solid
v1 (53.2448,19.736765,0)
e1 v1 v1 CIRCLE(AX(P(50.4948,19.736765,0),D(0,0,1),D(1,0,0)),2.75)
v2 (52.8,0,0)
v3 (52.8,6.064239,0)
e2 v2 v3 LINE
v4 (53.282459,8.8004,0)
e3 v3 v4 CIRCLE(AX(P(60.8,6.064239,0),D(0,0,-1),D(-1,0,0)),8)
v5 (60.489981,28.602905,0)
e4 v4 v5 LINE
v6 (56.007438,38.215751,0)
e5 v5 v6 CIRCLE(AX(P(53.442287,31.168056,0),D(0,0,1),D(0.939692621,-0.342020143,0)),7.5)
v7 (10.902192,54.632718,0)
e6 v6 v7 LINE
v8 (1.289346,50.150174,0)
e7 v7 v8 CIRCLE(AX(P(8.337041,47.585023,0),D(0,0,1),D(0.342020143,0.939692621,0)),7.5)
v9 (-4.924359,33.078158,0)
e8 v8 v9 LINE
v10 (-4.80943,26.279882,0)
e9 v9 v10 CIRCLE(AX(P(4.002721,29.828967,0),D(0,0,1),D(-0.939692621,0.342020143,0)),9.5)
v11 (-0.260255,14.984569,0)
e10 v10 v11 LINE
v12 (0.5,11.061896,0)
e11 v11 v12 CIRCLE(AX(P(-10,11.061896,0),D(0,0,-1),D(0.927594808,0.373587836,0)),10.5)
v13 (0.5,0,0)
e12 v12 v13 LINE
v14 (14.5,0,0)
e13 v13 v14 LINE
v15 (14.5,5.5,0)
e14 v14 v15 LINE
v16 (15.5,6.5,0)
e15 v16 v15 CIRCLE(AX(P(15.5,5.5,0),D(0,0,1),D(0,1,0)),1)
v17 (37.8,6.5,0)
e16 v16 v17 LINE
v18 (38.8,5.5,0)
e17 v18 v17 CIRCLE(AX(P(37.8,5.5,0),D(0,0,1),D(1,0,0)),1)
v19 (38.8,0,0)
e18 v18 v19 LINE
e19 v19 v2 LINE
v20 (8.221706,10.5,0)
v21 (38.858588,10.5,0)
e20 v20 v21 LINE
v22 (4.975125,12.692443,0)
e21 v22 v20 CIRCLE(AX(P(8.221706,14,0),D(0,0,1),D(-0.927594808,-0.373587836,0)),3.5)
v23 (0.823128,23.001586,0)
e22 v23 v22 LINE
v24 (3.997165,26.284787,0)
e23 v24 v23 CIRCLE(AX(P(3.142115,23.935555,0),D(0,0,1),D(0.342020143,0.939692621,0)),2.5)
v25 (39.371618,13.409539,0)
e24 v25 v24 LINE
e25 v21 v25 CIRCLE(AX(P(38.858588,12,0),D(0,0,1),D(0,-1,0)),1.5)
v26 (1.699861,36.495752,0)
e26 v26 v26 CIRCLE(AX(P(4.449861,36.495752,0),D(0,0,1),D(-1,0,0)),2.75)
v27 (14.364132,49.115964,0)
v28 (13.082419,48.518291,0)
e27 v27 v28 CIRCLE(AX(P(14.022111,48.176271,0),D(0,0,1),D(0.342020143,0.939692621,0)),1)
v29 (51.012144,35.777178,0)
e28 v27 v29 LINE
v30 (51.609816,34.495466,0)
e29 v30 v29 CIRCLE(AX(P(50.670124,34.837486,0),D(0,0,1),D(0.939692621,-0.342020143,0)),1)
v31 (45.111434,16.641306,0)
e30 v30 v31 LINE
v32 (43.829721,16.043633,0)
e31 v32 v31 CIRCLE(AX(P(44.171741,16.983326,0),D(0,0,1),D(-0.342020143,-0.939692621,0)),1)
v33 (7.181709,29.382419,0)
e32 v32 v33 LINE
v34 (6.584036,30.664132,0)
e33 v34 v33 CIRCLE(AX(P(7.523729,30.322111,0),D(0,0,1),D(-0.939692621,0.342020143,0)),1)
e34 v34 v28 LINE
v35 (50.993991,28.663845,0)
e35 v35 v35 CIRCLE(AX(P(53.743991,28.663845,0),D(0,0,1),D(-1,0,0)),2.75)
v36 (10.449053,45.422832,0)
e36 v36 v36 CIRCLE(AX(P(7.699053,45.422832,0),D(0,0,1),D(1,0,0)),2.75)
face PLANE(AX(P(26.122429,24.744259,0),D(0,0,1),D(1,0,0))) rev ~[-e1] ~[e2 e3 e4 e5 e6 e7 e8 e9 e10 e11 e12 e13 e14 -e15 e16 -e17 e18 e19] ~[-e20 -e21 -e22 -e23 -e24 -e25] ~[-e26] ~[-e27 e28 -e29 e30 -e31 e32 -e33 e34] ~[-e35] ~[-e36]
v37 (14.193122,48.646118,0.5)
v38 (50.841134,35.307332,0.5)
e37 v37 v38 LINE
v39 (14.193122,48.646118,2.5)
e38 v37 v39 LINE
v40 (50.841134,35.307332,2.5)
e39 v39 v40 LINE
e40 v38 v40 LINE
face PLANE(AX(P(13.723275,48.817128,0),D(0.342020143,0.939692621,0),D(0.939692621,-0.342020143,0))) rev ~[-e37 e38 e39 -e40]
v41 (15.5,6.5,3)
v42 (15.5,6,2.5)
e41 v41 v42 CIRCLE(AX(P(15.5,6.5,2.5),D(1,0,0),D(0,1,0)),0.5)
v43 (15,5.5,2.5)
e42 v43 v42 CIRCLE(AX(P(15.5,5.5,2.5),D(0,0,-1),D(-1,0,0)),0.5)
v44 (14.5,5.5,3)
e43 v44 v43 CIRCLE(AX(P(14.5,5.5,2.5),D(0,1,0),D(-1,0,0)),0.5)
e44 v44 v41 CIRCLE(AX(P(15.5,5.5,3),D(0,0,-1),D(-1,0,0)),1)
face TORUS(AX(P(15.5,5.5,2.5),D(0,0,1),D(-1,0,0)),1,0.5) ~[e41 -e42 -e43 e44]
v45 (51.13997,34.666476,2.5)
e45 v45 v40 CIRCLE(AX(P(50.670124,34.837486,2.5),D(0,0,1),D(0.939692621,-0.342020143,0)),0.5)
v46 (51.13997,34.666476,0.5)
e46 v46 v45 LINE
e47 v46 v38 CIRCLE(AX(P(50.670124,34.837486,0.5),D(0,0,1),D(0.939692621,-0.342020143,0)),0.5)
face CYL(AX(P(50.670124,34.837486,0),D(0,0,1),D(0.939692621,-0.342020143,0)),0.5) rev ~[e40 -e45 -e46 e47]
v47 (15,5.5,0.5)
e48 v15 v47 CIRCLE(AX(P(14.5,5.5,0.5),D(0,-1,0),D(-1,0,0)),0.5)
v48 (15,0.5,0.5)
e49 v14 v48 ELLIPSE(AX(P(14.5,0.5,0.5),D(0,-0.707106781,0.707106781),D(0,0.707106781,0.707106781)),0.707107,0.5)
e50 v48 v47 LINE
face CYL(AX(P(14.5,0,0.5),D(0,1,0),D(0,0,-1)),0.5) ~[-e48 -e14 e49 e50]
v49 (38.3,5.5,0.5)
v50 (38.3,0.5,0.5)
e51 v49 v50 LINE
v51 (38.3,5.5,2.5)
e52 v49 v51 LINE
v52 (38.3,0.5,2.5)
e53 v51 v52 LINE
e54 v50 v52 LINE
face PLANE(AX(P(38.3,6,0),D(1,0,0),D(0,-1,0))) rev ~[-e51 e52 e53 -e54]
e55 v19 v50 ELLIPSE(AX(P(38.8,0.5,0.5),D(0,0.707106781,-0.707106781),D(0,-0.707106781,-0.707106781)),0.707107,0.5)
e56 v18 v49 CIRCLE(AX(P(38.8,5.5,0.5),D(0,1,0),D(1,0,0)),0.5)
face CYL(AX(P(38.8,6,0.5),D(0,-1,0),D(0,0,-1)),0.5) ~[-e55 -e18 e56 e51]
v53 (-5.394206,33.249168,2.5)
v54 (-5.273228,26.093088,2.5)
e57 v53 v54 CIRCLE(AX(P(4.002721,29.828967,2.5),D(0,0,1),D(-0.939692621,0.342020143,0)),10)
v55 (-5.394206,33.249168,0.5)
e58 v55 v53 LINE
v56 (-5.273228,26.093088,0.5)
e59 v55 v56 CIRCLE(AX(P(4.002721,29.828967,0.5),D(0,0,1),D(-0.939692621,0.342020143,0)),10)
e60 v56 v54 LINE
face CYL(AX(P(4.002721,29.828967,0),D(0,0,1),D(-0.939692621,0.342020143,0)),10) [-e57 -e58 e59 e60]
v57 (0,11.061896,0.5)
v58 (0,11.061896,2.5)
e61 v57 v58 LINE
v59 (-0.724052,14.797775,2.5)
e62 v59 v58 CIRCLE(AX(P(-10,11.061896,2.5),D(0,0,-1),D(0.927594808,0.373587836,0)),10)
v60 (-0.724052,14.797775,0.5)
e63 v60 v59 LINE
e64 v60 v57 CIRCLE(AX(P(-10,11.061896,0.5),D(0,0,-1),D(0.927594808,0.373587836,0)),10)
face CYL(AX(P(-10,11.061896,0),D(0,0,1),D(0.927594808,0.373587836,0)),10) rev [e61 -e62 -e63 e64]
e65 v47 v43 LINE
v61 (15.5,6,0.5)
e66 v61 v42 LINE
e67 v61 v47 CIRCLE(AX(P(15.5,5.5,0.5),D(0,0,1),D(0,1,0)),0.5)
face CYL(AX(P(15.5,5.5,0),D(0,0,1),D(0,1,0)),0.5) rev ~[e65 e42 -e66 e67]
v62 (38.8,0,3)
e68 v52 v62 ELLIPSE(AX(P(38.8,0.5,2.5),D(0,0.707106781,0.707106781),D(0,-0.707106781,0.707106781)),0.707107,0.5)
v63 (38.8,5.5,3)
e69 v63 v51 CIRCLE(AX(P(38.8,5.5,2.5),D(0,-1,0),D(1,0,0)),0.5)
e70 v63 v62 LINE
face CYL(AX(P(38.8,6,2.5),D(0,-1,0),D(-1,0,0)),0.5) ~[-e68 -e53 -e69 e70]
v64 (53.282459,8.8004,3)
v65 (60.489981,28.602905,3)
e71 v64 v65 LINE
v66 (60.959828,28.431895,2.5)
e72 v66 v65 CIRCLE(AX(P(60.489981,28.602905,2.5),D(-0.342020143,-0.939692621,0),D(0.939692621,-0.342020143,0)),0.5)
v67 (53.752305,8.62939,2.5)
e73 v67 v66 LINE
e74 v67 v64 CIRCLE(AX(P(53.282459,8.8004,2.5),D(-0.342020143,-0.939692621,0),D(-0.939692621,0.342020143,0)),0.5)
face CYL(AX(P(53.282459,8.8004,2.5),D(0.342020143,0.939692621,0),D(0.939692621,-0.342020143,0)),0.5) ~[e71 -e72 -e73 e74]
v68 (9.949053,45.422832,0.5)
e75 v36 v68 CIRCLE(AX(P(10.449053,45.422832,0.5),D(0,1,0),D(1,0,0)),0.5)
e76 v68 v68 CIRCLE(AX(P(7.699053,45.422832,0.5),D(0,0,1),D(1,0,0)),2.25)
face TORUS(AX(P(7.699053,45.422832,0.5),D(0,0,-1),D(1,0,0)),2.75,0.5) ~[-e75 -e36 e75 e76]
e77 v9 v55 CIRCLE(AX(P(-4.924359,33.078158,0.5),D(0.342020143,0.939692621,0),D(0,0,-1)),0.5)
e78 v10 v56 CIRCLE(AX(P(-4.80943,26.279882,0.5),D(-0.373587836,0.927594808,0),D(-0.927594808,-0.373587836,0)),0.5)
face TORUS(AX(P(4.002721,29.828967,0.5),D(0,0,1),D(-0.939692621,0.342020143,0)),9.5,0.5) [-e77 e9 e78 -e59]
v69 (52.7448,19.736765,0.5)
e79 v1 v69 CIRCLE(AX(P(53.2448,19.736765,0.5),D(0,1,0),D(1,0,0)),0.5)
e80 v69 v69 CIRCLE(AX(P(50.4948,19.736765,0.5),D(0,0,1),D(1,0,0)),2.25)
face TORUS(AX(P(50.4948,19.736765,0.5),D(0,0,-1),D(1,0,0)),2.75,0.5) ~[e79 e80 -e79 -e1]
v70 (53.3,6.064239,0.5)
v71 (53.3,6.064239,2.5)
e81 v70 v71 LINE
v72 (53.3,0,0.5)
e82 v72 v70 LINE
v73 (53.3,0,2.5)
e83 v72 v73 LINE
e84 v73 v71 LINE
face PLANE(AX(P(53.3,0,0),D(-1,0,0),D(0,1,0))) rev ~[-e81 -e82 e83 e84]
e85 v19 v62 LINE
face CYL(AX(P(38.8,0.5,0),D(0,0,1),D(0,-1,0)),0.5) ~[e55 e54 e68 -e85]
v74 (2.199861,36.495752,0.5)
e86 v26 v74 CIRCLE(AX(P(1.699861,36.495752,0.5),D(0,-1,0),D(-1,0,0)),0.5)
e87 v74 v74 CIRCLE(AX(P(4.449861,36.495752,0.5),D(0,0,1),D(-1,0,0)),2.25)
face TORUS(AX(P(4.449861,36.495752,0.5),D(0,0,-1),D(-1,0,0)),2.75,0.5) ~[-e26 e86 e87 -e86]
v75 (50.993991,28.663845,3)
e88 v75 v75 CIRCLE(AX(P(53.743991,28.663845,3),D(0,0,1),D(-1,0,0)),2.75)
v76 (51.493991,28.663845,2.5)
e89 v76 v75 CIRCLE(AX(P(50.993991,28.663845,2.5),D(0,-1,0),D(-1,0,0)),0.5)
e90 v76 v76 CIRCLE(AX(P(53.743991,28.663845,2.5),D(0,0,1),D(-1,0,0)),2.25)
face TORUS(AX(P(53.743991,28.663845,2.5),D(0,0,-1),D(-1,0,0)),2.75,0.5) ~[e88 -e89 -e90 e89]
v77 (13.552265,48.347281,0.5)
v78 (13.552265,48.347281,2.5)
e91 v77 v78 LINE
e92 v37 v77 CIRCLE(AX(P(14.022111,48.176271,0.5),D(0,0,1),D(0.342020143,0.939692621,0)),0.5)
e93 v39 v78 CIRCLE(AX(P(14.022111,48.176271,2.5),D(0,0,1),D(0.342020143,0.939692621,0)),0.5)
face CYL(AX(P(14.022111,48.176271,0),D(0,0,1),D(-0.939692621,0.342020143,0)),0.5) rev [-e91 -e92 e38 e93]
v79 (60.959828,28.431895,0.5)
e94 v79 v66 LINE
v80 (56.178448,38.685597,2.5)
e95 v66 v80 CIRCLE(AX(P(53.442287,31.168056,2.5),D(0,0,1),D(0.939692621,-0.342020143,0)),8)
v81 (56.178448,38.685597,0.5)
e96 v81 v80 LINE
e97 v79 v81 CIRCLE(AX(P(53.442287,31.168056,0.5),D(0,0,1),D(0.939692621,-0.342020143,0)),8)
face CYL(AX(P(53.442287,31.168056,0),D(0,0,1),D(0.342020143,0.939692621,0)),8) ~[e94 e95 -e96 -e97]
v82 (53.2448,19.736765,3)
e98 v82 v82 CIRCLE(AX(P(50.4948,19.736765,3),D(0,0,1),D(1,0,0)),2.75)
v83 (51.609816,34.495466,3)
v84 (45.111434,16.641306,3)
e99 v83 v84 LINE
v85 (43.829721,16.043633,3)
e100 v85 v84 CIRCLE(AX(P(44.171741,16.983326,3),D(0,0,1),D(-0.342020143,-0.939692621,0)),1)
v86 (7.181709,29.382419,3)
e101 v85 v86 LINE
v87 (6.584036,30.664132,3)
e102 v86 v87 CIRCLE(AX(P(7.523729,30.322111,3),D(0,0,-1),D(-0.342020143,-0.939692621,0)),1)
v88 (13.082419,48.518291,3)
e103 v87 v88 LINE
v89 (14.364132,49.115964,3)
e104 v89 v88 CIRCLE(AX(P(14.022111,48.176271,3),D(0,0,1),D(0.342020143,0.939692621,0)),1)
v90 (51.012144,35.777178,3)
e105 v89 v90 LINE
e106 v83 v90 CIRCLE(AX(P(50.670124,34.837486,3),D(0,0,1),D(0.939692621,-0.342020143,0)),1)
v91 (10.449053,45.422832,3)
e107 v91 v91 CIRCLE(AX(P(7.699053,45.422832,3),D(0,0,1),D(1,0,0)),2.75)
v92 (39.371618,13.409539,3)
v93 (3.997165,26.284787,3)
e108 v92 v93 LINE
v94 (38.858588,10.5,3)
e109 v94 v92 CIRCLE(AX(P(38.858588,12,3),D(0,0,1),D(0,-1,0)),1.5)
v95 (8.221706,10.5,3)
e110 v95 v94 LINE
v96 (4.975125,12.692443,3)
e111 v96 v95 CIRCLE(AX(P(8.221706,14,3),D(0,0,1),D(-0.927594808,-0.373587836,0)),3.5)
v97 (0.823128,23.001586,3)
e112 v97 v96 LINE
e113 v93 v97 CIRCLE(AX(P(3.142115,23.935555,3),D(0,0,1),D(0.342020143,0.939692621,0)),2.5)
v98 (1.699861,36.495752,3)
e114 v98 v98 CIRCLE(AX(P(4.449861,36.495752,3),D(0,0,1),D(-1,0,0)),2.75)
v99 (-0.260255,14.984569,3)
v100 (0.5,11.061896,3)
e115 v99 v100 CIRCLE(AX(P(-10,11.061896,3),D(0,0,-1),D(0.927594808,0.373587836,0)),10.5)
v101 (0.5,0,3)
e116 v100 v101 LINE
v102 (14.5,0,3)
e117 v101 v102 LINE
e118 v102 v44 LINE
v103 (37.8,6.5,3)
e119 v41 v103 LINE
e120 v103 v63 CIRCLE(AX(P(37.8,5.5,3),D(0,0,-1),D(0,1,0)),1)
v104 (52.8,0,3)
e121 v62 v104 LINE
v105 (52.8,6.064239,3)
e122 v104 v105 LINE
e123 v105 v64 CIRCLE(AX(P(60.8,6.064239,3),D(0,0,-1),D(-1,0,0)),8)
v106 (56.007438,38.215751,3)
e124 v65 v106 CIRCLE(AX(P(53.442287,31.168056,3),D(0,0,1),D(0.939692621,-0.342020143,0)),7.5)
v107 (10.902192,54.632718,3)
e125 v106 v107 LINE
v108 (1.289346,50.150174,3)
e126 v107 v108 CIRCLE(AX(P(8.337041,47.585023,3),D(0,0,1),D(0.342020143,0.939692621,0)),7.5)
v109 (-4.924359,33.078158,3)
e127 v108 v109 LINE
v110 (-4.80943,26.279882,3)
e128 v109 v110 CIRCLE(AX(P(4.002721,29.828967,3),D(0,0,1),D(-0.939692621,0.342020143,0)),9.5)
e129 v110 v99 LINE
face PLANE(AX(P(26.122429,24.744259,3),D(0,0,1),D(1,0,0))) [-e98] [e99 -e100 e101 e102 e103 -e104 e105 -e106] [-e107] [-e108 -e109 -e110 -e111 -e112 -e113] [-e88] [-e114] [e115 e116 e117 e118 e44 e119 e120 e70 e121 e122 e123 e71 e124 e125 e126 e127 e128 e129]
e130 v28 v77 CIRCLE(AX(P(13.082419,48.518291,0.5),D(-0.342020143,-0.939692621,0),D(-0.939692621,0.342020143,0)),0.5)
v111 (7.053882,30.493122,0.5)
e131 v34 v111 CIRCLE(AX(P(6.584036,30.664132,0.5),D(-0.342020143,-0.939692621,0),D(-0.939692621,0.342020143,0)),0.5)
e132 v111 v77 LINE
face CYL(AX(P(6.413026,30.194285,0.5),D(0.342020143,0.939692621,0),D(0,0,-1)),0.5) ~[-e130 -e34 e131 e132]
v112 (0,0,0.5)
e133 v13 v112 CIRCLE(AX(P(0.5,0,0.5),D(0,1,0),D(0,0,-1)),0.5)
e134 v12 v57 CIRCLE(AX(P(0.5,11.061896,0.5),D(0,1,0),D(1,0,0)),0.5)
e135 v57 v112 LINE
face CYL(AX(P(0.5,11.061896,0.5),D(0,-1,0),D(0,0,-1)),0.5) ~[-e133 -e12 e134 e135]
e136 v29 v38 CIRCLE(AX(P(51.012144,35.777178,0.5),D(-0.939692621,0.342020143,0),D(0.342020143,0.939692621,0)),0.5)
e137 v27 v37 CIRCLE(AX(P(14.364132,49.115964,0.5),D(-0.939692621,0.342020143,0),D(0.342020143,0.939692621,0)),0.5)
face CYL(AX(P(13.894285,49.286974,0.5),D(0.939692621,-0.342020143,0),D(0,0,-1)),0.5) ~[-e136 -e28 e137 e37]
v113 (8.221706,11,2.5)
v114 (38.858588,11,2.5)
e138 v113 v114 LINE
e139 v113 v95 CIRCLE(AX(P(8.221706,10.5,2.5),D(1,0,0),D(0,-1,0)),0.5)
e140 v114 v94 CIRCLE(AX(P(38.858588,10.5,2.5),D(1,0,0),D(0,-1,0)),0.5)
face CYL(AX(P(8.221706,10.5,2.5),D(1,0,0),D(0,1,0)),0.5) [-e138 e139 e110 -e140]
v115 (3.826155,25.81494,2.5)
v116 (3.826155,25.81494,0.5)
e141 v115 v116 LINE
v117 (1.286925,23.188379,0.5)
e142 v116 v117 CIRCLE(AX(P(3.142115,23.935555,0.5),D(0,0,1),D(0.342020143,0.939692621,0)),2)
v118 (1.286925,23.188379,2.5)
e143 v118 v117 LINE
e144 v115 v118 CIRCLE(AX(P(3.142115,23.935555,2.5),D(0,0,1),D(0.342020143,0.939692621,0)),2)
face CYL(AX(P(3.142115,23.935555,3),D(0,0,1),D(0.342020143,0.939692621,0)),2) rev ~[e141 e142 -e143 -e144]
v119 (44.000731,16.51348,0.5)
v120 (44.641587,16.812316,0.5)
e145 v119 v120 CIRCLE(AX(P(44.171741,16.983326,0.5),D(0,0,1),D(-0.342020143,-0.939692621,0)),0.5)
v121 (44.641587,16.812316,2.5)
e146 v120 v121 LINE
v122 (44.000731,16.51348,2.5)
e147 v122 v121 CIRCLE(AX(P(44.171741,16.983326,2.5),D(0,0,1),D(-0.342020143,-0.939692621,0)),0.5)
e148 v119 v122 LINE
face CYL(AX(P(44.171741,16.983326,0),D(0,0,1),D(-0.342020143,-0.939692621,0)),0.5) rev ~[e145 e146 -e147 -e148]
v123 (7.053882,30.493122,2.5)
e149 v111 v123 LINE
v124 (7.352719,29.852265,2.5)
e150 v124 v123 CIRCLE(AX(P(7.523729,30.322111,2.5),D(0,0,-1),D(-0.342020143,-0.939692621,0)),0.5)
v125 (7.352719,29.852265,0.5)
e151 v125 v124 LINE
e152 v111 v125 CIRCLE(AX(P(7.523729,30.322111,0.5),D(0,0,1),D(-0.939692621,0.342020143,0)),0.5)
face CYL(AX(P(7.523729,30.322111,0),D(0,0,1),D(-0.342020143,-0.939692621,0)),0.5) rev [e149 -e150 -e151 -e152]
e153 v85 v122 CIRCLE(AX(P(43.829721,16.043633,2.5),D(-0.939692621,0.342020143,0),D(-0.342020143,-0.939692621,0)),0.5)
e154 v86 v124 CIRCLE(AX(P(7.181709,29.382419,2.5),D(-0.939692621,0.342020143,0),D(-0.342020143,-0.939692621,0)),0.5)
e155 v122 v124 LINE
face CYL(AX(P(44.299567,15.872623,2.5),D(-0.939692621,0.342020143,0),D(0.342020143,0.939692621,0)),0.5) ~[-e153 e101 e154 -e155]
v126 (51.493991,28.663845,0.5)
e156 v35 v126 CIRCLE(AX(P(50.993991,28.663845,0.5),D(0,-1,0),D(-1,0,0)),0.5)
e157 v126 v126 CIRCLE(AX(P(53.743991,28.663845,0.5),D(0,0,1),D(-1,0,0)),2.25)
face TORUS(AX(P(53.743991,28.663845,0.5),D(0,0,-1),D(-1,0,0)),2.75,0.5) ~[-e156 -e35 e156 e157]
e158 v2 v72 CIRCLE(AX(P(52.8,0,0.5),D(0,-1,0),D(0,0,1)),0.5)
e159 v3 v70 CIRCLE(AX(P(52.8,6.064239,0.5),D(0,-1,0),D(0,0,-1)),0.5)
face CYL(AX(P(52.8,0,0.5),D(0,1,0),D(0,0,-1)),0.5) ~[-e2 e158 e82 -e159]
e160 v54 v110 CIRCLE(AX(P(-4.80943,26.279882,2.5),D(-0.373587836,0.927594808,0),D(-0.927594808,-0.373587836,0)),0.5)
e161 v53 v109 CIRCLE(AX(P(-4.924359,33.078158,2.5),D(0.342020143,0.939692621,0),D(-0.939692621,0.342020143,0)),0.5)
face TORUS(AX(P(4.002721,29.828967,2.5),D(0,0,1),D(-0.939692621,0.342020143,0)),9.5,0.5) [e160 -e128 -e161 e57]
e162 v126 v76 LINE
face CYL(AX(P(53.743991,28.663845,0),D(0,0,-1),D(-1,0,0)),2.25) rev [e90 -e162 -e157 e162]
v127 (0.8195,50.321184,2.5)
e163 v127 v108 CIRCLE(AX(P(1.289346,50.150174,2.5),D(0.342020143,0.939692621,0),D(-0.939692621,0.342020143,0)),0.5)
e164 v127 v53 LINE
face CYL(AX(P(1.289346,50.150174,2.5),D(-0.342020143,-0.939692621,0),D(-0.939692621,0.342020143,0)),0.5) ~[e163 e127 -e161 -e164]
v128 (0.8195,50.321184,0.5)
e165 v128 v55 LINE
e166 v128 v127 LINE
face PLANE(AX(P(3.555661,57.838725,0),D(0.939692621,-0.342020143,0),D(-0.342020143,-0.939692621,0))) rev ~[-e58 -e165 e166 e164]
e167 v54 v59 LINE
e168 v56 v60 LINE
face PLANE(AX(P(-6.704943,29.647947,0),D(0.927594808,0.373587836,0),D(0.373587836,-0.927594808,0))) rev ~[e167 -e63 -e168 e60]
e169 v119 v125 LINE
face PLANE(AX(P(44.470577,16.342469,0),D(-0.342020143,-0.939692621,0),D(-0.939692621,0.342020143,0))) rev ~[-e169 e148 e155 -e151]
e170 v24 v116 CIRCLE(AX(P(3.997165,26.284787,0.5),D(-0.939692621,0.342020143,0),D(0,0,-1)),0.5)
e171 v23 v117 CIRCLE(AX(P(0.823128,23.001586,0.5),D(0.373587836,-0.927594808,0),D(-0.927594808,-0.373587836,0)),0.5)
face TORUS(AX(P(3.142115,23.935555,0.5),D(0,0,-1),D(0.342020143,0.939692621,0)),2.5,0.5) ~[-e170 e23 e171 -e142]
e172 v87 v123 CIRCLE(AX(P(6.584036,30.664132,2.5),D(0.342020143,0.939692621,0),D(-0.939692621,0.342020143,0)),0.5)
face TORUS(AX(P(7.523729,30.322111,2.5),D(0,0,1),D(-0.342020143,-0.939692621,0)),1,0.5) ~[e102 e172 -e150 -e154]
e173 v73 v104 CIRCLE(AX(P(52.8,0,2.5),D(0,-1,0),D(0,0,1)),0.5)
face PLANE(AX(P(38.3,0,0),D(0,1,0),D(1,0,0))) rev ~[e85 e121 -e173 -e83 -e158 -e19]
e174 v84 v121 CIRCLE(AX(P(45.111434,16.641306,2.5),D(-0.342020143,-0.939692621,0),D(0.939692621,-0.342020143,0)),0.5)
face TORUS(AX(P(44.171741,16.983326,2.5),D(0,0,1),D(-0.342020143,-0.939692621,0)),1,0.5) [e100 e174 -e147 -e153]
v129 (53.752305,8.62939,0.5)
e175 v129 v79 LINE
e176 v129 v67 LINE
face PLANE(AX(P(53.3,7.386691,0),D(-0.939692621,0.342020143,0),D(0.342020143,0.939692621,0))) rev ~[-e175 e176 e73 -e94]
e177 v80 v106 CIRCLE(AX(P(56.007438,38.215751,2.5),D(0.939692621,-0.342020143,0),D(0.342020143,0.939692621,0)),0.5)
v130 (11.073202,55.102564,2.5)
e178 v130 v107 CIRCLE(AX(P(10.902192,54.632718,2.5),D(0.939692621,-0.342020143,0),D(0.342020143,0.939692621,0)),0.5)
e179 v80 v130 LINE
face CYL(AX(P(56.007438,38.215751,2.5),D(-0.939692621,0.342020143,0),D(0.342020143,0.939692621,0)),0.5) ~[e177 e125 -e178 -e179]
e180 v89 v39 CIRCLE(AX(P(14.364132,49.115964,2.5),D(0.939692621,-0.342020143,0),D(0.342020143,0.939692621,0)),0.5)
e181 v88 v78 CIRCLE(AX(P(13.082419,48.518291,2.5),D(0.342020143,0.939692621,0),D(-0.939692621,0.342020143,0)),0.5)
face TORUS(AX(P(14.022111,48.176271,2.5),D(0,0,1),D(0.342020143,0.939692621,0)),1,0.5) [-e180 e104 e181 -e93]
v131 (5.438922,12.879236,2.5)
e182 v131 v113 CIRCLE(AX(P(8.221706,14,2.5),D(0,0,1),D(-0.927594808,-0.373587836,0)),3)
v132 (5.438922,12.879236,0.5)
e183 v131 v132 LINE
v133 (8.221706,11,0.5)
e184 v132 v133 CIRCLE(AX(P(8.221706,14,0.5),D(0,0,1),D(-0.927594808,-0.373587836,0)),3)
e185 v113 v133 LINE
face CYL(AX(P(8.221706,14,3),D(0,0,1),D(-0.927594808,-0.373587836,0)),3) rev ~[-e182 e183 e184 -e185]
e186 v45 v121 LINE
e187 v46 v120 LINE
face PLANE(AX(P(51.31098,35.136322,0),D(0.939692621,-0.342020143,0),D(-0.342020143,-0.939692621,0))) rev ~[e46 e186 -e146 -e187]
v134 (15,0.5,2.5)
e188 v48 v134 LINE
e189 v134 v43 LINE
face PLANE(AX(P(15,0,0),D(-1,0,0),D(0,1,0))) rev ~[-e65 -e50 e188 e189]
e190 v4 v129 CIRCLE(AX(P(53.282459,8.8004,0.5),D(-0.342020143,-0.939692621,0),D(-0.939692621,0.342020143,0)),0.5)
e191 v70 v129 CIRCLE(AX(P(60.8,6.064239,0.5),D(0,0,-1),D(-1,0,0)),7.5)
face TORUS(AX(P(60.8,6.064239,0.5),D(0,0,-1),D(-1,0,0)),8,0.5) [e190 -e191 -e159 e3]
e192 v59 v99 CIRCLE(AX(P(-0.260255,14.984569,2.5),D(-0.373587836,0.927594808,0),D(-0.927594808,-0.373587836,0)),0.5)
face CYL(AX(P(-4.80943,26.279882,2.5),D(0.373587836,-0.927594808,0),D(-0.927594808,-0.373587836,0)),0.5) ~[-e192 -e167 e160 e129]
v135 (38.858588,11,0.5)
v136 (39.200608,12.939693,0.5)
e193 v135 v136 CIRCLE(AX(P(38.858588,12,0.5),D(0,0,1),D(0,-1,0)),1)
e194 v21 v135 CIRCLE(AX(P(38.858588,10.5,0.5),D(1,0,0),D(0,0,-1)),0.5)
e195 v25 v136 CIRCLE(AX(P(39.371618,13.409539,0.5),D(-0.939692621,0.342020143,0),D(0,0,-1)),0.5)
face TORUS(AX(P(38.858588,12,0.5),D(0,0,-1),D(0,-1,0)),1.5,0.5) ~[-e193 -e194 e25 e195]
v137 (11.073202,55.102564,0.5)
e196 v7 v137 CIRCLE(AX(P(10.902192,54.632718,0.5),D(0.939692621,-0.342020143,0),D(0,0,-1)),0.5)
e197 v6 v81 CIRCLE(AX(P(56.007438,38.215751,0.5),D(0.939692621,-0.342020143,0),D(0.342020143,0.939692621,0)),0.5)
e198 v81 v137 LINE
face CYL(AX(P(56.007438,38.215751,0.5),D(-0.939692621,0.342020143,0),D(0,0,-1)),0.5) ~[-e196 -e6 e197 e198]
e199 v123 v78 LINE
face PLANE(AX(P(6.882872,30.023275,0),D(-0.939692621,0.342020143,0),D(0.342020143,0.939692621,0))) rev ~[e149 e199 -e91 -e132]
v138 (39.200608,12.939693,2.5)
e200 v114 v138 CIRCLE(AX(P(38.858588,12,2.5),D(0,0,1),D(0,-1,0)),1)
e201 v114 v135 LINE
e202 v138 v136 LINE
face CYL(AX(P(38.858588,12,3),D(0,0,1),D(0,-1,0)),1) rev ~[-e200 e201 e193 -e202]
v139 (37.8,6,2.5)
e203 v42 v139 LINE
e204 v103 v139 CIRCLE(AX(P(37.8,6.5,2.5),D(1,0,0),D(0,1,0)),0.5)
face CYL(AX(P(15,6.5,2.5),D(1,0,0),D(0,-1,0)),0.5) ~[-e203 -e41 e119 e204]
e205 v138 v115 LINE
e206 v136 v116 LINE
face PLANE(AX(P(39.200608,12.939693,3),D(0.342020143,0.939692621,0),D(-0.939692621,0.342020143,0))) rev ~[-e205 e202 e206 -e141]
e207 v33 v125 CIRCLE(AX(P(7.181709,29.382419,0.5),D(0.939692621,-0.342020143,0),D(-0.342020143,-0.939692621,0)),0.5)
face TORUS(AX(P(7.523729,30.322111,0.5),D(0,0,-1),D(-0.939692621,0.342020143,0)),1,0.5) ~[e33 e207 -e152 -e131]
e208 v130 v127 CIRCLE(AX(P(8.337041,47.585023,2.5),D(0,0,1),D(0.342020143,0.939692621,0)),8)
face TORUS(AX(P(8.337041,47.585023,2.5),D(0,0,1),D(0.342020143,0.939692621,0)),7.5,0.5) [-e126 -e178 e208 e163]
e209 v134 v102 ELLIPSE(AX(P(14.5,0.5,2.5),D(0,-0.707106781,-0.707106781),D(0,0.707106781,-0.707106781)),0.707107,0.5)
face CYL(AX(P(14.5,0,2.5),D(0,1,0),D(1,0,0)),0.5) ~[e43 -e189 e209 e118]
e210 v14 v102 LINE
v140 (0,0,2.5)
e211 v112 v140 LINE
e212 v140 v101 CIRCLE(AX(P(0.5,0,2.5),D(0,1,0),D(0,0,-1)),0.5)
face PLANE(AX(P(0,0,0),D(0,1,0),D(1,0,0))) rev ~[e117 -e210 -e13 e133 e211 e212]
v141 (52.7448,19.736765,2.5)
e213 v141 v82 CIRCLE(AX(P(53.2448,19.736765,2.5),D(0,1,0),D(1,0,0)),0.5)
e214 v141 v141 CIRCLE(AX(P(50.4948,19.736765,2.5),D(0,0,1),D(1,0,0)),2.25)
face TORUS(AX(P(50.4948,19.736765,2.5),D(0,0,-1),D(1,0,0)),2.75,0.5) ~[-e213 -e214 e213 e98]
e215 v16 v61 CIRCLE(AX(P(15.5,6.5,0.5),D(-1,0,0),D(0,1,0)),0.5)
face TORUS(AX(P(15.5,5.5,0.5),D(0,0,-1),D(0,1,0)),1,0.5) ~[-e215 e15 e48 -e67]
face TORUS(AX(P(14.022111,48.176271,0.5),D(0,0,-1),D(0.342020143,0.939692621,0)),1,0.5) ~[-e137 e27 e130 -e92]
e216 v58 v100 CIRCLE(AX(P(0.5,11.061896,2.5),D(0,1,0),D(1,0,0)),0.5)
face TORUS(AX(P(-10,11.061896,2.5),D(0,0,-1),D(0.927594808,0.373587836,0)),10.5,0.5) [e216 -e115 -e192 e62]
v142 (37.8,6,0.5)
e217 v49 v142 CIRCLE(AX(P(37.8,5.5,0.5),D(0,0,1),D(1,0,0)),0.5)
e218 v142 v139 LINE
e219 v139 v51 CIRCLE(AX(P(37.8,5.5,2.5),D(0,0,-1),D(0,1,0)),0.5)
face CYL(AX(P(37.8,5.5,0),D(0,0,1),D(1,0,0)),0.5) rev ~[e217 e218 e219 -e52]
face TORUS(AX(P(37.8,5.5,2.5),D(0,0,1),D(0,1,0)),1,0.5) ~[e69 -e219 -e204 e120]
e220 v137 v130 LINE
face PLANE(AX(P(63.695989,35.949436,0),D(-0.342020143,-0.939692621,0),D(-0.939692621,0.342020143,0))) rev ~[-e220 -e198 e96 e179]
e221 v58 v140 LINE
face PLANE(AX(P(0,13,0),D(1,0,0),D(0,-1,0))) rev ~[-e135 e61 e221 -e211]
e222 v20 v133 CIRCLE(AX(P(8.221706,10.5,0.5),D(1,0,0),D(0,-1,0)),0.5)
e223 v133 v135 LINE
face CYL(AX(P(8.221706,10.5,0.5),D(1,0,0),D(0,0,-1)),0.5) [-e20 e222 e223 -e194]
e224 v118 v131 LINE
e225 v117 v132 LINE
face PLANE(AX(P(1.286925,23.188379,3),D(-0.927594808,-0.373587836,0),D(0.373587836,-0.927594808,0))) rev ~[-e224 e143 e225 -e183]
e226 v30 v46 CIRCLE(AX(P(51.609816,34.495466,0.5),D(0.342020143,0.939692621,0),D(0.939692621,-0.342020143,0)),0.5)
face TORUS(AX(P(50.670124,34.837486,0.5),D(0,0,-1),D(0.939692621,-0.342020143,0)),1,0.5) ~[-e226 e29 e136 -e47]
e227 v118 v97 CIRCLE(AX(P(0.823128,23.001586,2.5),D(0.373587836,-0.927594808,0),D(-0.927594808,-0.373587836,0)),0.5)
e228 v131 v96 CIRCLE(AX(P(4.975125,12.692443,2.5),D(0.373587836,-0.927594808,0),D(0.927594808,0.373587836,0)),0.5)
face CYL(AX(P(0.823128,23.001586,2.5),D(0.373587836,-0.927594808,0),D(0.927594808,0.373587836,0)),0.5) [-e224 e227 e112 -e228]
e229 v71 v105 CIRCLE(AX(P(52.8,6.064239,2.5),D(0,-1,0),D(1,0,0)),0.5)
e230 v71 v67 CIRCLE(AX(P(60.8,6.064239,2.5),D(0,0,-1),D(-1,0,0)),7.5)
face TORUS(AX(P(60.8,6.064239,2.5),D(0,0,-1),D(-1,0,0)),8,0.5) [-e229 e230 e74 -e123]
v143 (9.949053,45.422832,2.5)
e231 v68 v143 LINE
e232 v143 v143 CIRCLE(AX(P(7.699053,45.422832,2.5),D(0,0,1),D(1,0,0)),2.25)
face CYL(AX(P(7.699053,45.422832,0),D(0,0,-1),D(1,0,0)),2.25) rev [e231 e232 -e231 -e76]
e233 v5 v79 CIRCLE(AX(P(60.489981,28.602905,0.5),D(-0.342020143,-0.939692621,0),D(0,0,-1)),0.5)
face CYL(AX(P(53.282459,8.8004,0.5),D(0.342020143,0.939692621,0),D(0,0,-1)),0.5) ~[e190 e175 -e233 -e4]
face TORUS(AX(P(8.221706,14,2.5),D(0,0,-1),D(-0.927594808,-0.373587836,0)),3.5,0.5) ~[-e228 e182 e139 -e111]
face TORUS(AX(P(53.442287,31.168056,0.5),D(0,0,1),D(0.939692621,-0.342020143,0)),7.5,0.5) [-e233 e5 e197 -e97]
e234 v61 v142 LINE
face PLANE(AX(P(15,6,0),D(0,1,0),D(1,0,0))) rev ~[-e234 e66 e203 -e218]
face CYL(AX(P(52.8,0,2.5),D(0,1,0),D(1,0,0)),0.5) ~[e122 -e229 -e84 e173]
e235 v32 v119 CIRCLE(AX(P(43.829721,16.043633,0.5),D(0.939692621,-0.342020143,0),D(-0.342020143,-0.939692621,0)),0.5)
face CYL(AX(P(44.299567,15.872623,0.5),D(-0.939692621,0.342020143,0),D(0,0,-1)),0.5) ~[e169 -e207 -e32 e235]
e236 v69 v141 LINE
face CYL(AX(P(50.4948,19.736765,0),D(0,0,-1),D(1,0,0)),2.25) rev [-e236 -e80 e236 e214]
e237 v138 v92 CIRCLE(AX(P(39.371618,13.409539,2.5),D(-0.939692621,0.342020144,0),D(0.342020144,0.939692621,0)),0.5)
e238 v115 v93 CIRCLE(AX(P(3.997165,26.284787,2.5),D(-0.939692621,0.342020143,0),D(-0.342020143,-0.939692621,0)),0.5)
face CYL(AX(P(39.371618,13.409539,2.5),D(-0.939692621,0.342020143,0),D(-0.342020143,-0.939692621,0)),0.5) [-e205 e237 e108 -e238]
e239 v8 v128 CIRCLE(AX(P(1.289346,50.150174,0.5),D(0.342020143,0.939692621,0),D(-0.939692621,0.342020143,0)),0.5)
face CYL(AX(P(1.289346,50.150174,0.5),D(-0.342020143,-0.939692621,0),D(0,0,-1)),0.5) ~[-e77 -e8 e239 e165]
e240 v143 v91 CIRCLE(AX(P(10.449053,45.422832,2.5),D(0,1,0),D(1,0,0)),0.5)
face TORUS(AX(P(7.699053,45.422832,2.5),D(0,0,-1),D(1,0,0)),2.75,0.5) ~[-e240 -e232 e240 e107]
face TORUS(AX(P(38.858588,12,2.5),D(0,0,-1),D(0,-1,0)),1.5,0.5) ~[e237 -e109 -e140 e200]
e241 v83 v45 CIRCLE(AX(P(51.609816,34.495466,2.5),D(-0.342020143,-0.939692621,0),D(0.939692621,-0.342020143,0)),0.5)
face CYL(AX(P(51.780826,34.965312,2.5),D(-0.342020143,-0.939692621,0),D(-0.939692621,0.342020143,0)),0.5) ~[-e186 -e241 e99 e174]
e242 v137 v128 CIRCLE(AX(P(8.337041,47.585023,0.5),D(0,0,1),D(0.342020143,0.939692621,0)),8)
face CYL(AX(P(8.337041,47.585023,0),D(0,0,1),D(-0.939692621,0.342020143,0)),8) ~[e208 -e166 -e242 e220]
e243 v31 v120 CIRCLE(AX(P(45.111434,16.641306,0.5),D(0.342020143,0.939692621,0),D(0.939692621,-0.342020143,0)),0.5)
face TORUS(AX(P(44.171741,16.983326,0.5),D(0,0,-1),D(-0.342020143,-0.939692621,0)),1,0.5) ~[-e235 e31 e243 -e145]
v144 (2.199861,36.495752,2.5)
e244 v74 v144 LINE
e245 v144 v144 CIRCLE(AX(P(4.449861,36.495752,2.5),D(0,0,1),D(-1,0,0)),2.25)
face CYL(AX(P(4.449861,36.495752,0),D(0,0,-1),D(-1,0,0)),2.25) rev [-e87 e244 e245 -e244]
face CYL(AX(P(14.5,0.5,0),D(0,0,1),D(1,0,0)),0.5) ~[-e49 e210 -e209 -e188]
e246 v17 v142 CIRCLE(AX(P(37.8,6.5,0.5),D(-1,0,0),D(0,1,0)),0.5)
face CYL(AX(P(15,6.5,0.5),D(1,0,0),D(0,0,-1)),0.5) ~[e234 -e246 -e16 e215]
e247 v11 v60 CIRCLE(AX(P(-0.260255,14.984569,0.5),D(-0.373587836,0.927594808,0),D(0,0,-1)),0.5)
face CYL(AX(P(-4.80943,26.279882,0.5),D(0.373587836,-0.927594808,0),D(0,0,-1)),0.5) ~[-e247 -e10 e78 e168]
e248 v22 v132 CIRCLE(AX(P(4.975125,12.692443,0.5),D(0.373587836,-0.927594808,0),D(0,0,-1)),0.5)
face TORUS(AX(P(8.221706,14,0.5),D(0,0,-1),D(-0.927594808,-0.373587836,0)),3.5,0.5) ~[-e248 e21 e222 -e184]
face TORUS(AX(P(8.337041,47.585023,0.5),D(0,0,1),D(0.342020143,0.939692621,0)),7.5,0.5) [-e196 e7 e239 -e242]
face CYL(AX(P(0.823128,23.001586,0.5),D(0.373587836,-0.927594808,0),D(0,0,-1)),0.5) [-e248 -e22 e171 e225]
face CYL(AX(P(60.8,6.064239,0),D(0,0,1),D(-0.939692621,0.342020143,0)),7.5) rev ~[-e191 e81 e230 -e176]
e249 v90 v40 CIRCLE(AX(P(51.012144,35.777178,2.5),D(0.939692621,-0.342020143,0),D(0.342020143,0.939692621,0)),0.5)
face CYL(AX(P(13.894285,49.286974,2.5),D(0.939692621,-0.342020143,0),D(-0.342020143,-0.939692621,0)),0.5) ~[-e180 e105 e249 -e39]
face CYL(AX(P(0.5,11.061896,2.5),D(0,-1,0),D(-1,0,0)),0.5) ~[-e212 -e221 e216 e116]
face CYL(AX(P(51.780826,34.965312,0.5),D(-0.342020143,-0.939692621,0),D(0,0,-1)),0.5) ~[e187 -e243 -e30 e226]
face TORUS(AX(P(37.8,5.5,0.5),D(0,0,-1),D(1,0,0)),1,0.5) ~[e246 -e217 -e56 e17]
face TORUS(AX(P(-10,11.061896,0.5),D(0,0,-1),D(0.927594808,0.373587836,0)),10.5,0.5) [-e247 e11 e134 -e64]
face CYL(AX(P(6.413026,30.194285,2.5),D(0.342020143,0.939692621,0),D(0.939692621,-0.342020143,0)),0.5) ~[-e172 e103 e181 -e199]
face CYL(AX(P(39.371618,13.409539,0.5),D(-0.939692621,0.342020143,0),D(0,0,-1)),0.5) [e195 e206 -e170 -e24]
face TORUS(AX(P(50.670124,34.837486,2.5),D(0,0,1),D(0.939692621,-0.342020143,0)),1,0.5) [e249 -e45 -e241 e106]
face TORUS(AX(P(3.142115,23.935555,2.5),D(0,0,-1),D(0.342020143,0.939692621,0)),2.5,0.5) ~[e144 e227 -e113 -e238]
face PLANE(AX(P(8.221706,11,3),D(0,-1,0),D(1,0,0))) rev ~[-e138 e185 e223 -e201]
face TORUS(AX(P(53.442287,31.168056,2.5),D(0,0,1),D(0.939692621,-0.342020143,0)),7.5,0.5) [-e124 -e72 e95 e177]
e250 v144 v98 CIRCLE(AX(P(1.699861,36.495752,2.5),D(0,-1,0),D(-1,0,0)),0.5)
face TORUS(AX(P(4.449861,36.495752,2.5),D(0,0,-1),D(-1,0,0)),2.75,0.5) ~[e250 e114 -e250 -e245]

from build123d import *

# Parameters (mm, degrees)
SKETCH1_R           = 2.25
BOSS_EXTRUDE1_DEPTH = 3
FILLET1_R           = 8
FILLET2_R           = 10
FILLET3_R           = 7.5
CUT_EXTRUDE1_DEPTH  = 10
FILLET4_R           = 0.5


with BuildPart() as part:
    # Sketch1 → Boss-Extrude1 (new body)
    with BuildSketch(Plane.XY):
        Polygon((0, 0), (15, 0), (15, 6), (38.3, 6), (38.3, 0), (53.3, 0), (53.3, 7.386691303), (63.695988946, 35.949436184), (3.555661215, 57.838725357), (-6.704943084, 29.647946733), (0, 13), align=None)
        with Locations((7.699052679, 45.422832027)):
            Circle(SKETCH1_R, mode=Mode.SUBTRACT)
        with Locations(Location((4.449861318, 36.495752129, 0), (0, 0, 180))):
            Circle(SKETCH1_R, mode=Mode.SUBTRACT)
        with Locations(Location((53.743991098, 28.663845004, 0), (0, 0, 180))):
            Circle(SKETCH1_R, mode=Mode.SUBTRACT)
        with Locations((50.494799736, 19.736765107)):
            Circle(SKETCH1_R, mode=Mode.SUBTRACT)
        Polygon((6.882872359, 30.023275225), (13.723275225, 48.817127641), (51.310980057, 35.136321908), (44.47057719, 16.342469492), align=None, mode=Mode.SUBTRACT)
    extrude(amount=BOSS_EXTRUDE1_DEPTH)

    # Fillet1
    fillet1_edges = [part.edges().sort_by_distance(p)[0] for p in [
        (3.555661215, 57.838725357, 1.5),
        (63.695988946, 35.949436184, 1.5),
    ]]
    fillet(fillet1_edges, radius=FILLET1_R)

    # Fillet2
    fillet2_edges = [part.edges().sort_by_distance(p)[0] for p in [
        (0, 13, 1.5),
        (-6.704943084, 29.647946733, 1.5),
    ]]
    fillet(fillet2_edges, radius=FILLET2_R)

    # Fillet3
    fillet3_edges = [part.edges().sort_by_distance(p)[0] for p in [
        (53.3, 7.386691303, 1.5),
    ]]
    fillet(fillet3_edges, radius=FILLET3_R)

    # Sketch3 → Cut-Extrude1 (cut)
    with BuildSketch(Plane.XY.offset(3)):
        with BuildLine():
            Line((8.22170639, 11), (38.858587664, 11))
            ThreePointArc((38.858587664, 11), (39.843395417, 11.826351822), (39.200607808, 12.939692621))
            Line((39.200607808, 12.939692621), (3.826155353, 25.814940368))
            ThreePointArc((3.826155353, 25.814940368), (1.70419878, 25.325661868), (1.28692545, 23.188379454))
            Line((1.28692545, 23.188379454), (5.438921964, 12.879236492))
            ThreePointArc((5.438921964, 12.879236492), (6.542761859, 11.513809086), (8.22170639, 11))
        make_face()
    extrude(amount=-CUT_EXTRUDE1_DEPTH, mode=Mode.SUBTRACT)

    # Fillet4
    fillet4_edges = [part.edges().sort_by_distance(p)[0] for p in [
        (15, 3, 3),
        (39.843395417, 11.826351822, 3),
        (21.51338158, 19.377316494, 3),
        (1.70419878, 25.325661868, 3),
        (3.362923707, 18.033807973, 3),
        (6.542761859, 11.513809086, 3),
        (23.540147027, 11, 3),
        (53.3, 3.032119474, 0),
        (38.3, 3, 0),
        (26.65, 6, 0),
        (26.65, 6, 3),
        (15, 3, 0),
        (38.3, 3, 3),
        (38.3, 0, 1.5),
        (38.3, 6, 1.5),
        (15, 6, 1.5),
        (15, 0, 1.5),
        (53.3, 3.032119474, 3),
        (25.676724775, 23.182872359, 0),
        (6.882872359, 30.023275225, 1.5),
        (47.890778624, 25.7393957, 0),
        (44.47057719, 16.342469492, 1.5),
        (32.517127641, 41.976724775, 0),
        (51.310980057, 35.136321908, 1.5),
        (10.303073792, 39.420201433, 0),
        (13.723275225, 48.817127641, 1.5),
        (25.676724775, 23.182872359, 3),
        (47.890778624, 25.7393957, 3),
        (32.517127641, 41.976724775, 3),
        (10.303073792, 39.420201433, 3),
        (5.449052679, 45.422832027, 0),
        (5.449052679, 45.422832027, 3),
        (6.699861318, 36.495752129, 0),
        (6.699861318, 36.495752129, 3),
        (55.993991098, 28.663845004, 0),
        (55.993991098, 28.663845004, 3),
        (48.244799736, 19.736765107, 0),
        (48.244799736, 19.736765107, 3),
        (33.62582508, 46.89408077, 0),
        (33.62582508, 46.89408077, 3),
        (-2.287352817, 41.785176242, 0),
        (4.956094941, 54.83548554, 0),
        (60.692749129, 34.549002458, 0),
        (-2.287352817, 41.785176242, 3),
        (4.956094941, 54.83548554, 3),
        (60.692749129, 34.549002458, 3),
        (0, 5.53094822, 0),
        (0, 5.53094822, 3),
        (-2.998639747, 20.44543155, 0),
        (-2.998639747, 20.44543155, 3),
        (-5.995850797, 29.659934393, 0),
        (-5.995850797, 29.659934393, 3),
        (-0.182681607, 12.964594413, 0),
        (-0.182681607, 12.964594413, 3),
        (57.356066572, 18.53064262, 0),
        (57.356066572, 18.53064262, 3),
        (53.413941852, 7.36660028, 0),
        (53.413941852, 7.36660028, 3),
        (21.51338158, 19.377316494, 0),
        (1.70419878, 25.325661868, 0),
        (3.362923707, 18.033807973, 0),
        (6.542761859, 11.513809086, 0),
        (23.540147027, 11, 0),
        (39.843395417, 11.826351822, 0),
    ]]
    fillet(fillet4_edges, radius=FILLET4_R)


solid = part.part
